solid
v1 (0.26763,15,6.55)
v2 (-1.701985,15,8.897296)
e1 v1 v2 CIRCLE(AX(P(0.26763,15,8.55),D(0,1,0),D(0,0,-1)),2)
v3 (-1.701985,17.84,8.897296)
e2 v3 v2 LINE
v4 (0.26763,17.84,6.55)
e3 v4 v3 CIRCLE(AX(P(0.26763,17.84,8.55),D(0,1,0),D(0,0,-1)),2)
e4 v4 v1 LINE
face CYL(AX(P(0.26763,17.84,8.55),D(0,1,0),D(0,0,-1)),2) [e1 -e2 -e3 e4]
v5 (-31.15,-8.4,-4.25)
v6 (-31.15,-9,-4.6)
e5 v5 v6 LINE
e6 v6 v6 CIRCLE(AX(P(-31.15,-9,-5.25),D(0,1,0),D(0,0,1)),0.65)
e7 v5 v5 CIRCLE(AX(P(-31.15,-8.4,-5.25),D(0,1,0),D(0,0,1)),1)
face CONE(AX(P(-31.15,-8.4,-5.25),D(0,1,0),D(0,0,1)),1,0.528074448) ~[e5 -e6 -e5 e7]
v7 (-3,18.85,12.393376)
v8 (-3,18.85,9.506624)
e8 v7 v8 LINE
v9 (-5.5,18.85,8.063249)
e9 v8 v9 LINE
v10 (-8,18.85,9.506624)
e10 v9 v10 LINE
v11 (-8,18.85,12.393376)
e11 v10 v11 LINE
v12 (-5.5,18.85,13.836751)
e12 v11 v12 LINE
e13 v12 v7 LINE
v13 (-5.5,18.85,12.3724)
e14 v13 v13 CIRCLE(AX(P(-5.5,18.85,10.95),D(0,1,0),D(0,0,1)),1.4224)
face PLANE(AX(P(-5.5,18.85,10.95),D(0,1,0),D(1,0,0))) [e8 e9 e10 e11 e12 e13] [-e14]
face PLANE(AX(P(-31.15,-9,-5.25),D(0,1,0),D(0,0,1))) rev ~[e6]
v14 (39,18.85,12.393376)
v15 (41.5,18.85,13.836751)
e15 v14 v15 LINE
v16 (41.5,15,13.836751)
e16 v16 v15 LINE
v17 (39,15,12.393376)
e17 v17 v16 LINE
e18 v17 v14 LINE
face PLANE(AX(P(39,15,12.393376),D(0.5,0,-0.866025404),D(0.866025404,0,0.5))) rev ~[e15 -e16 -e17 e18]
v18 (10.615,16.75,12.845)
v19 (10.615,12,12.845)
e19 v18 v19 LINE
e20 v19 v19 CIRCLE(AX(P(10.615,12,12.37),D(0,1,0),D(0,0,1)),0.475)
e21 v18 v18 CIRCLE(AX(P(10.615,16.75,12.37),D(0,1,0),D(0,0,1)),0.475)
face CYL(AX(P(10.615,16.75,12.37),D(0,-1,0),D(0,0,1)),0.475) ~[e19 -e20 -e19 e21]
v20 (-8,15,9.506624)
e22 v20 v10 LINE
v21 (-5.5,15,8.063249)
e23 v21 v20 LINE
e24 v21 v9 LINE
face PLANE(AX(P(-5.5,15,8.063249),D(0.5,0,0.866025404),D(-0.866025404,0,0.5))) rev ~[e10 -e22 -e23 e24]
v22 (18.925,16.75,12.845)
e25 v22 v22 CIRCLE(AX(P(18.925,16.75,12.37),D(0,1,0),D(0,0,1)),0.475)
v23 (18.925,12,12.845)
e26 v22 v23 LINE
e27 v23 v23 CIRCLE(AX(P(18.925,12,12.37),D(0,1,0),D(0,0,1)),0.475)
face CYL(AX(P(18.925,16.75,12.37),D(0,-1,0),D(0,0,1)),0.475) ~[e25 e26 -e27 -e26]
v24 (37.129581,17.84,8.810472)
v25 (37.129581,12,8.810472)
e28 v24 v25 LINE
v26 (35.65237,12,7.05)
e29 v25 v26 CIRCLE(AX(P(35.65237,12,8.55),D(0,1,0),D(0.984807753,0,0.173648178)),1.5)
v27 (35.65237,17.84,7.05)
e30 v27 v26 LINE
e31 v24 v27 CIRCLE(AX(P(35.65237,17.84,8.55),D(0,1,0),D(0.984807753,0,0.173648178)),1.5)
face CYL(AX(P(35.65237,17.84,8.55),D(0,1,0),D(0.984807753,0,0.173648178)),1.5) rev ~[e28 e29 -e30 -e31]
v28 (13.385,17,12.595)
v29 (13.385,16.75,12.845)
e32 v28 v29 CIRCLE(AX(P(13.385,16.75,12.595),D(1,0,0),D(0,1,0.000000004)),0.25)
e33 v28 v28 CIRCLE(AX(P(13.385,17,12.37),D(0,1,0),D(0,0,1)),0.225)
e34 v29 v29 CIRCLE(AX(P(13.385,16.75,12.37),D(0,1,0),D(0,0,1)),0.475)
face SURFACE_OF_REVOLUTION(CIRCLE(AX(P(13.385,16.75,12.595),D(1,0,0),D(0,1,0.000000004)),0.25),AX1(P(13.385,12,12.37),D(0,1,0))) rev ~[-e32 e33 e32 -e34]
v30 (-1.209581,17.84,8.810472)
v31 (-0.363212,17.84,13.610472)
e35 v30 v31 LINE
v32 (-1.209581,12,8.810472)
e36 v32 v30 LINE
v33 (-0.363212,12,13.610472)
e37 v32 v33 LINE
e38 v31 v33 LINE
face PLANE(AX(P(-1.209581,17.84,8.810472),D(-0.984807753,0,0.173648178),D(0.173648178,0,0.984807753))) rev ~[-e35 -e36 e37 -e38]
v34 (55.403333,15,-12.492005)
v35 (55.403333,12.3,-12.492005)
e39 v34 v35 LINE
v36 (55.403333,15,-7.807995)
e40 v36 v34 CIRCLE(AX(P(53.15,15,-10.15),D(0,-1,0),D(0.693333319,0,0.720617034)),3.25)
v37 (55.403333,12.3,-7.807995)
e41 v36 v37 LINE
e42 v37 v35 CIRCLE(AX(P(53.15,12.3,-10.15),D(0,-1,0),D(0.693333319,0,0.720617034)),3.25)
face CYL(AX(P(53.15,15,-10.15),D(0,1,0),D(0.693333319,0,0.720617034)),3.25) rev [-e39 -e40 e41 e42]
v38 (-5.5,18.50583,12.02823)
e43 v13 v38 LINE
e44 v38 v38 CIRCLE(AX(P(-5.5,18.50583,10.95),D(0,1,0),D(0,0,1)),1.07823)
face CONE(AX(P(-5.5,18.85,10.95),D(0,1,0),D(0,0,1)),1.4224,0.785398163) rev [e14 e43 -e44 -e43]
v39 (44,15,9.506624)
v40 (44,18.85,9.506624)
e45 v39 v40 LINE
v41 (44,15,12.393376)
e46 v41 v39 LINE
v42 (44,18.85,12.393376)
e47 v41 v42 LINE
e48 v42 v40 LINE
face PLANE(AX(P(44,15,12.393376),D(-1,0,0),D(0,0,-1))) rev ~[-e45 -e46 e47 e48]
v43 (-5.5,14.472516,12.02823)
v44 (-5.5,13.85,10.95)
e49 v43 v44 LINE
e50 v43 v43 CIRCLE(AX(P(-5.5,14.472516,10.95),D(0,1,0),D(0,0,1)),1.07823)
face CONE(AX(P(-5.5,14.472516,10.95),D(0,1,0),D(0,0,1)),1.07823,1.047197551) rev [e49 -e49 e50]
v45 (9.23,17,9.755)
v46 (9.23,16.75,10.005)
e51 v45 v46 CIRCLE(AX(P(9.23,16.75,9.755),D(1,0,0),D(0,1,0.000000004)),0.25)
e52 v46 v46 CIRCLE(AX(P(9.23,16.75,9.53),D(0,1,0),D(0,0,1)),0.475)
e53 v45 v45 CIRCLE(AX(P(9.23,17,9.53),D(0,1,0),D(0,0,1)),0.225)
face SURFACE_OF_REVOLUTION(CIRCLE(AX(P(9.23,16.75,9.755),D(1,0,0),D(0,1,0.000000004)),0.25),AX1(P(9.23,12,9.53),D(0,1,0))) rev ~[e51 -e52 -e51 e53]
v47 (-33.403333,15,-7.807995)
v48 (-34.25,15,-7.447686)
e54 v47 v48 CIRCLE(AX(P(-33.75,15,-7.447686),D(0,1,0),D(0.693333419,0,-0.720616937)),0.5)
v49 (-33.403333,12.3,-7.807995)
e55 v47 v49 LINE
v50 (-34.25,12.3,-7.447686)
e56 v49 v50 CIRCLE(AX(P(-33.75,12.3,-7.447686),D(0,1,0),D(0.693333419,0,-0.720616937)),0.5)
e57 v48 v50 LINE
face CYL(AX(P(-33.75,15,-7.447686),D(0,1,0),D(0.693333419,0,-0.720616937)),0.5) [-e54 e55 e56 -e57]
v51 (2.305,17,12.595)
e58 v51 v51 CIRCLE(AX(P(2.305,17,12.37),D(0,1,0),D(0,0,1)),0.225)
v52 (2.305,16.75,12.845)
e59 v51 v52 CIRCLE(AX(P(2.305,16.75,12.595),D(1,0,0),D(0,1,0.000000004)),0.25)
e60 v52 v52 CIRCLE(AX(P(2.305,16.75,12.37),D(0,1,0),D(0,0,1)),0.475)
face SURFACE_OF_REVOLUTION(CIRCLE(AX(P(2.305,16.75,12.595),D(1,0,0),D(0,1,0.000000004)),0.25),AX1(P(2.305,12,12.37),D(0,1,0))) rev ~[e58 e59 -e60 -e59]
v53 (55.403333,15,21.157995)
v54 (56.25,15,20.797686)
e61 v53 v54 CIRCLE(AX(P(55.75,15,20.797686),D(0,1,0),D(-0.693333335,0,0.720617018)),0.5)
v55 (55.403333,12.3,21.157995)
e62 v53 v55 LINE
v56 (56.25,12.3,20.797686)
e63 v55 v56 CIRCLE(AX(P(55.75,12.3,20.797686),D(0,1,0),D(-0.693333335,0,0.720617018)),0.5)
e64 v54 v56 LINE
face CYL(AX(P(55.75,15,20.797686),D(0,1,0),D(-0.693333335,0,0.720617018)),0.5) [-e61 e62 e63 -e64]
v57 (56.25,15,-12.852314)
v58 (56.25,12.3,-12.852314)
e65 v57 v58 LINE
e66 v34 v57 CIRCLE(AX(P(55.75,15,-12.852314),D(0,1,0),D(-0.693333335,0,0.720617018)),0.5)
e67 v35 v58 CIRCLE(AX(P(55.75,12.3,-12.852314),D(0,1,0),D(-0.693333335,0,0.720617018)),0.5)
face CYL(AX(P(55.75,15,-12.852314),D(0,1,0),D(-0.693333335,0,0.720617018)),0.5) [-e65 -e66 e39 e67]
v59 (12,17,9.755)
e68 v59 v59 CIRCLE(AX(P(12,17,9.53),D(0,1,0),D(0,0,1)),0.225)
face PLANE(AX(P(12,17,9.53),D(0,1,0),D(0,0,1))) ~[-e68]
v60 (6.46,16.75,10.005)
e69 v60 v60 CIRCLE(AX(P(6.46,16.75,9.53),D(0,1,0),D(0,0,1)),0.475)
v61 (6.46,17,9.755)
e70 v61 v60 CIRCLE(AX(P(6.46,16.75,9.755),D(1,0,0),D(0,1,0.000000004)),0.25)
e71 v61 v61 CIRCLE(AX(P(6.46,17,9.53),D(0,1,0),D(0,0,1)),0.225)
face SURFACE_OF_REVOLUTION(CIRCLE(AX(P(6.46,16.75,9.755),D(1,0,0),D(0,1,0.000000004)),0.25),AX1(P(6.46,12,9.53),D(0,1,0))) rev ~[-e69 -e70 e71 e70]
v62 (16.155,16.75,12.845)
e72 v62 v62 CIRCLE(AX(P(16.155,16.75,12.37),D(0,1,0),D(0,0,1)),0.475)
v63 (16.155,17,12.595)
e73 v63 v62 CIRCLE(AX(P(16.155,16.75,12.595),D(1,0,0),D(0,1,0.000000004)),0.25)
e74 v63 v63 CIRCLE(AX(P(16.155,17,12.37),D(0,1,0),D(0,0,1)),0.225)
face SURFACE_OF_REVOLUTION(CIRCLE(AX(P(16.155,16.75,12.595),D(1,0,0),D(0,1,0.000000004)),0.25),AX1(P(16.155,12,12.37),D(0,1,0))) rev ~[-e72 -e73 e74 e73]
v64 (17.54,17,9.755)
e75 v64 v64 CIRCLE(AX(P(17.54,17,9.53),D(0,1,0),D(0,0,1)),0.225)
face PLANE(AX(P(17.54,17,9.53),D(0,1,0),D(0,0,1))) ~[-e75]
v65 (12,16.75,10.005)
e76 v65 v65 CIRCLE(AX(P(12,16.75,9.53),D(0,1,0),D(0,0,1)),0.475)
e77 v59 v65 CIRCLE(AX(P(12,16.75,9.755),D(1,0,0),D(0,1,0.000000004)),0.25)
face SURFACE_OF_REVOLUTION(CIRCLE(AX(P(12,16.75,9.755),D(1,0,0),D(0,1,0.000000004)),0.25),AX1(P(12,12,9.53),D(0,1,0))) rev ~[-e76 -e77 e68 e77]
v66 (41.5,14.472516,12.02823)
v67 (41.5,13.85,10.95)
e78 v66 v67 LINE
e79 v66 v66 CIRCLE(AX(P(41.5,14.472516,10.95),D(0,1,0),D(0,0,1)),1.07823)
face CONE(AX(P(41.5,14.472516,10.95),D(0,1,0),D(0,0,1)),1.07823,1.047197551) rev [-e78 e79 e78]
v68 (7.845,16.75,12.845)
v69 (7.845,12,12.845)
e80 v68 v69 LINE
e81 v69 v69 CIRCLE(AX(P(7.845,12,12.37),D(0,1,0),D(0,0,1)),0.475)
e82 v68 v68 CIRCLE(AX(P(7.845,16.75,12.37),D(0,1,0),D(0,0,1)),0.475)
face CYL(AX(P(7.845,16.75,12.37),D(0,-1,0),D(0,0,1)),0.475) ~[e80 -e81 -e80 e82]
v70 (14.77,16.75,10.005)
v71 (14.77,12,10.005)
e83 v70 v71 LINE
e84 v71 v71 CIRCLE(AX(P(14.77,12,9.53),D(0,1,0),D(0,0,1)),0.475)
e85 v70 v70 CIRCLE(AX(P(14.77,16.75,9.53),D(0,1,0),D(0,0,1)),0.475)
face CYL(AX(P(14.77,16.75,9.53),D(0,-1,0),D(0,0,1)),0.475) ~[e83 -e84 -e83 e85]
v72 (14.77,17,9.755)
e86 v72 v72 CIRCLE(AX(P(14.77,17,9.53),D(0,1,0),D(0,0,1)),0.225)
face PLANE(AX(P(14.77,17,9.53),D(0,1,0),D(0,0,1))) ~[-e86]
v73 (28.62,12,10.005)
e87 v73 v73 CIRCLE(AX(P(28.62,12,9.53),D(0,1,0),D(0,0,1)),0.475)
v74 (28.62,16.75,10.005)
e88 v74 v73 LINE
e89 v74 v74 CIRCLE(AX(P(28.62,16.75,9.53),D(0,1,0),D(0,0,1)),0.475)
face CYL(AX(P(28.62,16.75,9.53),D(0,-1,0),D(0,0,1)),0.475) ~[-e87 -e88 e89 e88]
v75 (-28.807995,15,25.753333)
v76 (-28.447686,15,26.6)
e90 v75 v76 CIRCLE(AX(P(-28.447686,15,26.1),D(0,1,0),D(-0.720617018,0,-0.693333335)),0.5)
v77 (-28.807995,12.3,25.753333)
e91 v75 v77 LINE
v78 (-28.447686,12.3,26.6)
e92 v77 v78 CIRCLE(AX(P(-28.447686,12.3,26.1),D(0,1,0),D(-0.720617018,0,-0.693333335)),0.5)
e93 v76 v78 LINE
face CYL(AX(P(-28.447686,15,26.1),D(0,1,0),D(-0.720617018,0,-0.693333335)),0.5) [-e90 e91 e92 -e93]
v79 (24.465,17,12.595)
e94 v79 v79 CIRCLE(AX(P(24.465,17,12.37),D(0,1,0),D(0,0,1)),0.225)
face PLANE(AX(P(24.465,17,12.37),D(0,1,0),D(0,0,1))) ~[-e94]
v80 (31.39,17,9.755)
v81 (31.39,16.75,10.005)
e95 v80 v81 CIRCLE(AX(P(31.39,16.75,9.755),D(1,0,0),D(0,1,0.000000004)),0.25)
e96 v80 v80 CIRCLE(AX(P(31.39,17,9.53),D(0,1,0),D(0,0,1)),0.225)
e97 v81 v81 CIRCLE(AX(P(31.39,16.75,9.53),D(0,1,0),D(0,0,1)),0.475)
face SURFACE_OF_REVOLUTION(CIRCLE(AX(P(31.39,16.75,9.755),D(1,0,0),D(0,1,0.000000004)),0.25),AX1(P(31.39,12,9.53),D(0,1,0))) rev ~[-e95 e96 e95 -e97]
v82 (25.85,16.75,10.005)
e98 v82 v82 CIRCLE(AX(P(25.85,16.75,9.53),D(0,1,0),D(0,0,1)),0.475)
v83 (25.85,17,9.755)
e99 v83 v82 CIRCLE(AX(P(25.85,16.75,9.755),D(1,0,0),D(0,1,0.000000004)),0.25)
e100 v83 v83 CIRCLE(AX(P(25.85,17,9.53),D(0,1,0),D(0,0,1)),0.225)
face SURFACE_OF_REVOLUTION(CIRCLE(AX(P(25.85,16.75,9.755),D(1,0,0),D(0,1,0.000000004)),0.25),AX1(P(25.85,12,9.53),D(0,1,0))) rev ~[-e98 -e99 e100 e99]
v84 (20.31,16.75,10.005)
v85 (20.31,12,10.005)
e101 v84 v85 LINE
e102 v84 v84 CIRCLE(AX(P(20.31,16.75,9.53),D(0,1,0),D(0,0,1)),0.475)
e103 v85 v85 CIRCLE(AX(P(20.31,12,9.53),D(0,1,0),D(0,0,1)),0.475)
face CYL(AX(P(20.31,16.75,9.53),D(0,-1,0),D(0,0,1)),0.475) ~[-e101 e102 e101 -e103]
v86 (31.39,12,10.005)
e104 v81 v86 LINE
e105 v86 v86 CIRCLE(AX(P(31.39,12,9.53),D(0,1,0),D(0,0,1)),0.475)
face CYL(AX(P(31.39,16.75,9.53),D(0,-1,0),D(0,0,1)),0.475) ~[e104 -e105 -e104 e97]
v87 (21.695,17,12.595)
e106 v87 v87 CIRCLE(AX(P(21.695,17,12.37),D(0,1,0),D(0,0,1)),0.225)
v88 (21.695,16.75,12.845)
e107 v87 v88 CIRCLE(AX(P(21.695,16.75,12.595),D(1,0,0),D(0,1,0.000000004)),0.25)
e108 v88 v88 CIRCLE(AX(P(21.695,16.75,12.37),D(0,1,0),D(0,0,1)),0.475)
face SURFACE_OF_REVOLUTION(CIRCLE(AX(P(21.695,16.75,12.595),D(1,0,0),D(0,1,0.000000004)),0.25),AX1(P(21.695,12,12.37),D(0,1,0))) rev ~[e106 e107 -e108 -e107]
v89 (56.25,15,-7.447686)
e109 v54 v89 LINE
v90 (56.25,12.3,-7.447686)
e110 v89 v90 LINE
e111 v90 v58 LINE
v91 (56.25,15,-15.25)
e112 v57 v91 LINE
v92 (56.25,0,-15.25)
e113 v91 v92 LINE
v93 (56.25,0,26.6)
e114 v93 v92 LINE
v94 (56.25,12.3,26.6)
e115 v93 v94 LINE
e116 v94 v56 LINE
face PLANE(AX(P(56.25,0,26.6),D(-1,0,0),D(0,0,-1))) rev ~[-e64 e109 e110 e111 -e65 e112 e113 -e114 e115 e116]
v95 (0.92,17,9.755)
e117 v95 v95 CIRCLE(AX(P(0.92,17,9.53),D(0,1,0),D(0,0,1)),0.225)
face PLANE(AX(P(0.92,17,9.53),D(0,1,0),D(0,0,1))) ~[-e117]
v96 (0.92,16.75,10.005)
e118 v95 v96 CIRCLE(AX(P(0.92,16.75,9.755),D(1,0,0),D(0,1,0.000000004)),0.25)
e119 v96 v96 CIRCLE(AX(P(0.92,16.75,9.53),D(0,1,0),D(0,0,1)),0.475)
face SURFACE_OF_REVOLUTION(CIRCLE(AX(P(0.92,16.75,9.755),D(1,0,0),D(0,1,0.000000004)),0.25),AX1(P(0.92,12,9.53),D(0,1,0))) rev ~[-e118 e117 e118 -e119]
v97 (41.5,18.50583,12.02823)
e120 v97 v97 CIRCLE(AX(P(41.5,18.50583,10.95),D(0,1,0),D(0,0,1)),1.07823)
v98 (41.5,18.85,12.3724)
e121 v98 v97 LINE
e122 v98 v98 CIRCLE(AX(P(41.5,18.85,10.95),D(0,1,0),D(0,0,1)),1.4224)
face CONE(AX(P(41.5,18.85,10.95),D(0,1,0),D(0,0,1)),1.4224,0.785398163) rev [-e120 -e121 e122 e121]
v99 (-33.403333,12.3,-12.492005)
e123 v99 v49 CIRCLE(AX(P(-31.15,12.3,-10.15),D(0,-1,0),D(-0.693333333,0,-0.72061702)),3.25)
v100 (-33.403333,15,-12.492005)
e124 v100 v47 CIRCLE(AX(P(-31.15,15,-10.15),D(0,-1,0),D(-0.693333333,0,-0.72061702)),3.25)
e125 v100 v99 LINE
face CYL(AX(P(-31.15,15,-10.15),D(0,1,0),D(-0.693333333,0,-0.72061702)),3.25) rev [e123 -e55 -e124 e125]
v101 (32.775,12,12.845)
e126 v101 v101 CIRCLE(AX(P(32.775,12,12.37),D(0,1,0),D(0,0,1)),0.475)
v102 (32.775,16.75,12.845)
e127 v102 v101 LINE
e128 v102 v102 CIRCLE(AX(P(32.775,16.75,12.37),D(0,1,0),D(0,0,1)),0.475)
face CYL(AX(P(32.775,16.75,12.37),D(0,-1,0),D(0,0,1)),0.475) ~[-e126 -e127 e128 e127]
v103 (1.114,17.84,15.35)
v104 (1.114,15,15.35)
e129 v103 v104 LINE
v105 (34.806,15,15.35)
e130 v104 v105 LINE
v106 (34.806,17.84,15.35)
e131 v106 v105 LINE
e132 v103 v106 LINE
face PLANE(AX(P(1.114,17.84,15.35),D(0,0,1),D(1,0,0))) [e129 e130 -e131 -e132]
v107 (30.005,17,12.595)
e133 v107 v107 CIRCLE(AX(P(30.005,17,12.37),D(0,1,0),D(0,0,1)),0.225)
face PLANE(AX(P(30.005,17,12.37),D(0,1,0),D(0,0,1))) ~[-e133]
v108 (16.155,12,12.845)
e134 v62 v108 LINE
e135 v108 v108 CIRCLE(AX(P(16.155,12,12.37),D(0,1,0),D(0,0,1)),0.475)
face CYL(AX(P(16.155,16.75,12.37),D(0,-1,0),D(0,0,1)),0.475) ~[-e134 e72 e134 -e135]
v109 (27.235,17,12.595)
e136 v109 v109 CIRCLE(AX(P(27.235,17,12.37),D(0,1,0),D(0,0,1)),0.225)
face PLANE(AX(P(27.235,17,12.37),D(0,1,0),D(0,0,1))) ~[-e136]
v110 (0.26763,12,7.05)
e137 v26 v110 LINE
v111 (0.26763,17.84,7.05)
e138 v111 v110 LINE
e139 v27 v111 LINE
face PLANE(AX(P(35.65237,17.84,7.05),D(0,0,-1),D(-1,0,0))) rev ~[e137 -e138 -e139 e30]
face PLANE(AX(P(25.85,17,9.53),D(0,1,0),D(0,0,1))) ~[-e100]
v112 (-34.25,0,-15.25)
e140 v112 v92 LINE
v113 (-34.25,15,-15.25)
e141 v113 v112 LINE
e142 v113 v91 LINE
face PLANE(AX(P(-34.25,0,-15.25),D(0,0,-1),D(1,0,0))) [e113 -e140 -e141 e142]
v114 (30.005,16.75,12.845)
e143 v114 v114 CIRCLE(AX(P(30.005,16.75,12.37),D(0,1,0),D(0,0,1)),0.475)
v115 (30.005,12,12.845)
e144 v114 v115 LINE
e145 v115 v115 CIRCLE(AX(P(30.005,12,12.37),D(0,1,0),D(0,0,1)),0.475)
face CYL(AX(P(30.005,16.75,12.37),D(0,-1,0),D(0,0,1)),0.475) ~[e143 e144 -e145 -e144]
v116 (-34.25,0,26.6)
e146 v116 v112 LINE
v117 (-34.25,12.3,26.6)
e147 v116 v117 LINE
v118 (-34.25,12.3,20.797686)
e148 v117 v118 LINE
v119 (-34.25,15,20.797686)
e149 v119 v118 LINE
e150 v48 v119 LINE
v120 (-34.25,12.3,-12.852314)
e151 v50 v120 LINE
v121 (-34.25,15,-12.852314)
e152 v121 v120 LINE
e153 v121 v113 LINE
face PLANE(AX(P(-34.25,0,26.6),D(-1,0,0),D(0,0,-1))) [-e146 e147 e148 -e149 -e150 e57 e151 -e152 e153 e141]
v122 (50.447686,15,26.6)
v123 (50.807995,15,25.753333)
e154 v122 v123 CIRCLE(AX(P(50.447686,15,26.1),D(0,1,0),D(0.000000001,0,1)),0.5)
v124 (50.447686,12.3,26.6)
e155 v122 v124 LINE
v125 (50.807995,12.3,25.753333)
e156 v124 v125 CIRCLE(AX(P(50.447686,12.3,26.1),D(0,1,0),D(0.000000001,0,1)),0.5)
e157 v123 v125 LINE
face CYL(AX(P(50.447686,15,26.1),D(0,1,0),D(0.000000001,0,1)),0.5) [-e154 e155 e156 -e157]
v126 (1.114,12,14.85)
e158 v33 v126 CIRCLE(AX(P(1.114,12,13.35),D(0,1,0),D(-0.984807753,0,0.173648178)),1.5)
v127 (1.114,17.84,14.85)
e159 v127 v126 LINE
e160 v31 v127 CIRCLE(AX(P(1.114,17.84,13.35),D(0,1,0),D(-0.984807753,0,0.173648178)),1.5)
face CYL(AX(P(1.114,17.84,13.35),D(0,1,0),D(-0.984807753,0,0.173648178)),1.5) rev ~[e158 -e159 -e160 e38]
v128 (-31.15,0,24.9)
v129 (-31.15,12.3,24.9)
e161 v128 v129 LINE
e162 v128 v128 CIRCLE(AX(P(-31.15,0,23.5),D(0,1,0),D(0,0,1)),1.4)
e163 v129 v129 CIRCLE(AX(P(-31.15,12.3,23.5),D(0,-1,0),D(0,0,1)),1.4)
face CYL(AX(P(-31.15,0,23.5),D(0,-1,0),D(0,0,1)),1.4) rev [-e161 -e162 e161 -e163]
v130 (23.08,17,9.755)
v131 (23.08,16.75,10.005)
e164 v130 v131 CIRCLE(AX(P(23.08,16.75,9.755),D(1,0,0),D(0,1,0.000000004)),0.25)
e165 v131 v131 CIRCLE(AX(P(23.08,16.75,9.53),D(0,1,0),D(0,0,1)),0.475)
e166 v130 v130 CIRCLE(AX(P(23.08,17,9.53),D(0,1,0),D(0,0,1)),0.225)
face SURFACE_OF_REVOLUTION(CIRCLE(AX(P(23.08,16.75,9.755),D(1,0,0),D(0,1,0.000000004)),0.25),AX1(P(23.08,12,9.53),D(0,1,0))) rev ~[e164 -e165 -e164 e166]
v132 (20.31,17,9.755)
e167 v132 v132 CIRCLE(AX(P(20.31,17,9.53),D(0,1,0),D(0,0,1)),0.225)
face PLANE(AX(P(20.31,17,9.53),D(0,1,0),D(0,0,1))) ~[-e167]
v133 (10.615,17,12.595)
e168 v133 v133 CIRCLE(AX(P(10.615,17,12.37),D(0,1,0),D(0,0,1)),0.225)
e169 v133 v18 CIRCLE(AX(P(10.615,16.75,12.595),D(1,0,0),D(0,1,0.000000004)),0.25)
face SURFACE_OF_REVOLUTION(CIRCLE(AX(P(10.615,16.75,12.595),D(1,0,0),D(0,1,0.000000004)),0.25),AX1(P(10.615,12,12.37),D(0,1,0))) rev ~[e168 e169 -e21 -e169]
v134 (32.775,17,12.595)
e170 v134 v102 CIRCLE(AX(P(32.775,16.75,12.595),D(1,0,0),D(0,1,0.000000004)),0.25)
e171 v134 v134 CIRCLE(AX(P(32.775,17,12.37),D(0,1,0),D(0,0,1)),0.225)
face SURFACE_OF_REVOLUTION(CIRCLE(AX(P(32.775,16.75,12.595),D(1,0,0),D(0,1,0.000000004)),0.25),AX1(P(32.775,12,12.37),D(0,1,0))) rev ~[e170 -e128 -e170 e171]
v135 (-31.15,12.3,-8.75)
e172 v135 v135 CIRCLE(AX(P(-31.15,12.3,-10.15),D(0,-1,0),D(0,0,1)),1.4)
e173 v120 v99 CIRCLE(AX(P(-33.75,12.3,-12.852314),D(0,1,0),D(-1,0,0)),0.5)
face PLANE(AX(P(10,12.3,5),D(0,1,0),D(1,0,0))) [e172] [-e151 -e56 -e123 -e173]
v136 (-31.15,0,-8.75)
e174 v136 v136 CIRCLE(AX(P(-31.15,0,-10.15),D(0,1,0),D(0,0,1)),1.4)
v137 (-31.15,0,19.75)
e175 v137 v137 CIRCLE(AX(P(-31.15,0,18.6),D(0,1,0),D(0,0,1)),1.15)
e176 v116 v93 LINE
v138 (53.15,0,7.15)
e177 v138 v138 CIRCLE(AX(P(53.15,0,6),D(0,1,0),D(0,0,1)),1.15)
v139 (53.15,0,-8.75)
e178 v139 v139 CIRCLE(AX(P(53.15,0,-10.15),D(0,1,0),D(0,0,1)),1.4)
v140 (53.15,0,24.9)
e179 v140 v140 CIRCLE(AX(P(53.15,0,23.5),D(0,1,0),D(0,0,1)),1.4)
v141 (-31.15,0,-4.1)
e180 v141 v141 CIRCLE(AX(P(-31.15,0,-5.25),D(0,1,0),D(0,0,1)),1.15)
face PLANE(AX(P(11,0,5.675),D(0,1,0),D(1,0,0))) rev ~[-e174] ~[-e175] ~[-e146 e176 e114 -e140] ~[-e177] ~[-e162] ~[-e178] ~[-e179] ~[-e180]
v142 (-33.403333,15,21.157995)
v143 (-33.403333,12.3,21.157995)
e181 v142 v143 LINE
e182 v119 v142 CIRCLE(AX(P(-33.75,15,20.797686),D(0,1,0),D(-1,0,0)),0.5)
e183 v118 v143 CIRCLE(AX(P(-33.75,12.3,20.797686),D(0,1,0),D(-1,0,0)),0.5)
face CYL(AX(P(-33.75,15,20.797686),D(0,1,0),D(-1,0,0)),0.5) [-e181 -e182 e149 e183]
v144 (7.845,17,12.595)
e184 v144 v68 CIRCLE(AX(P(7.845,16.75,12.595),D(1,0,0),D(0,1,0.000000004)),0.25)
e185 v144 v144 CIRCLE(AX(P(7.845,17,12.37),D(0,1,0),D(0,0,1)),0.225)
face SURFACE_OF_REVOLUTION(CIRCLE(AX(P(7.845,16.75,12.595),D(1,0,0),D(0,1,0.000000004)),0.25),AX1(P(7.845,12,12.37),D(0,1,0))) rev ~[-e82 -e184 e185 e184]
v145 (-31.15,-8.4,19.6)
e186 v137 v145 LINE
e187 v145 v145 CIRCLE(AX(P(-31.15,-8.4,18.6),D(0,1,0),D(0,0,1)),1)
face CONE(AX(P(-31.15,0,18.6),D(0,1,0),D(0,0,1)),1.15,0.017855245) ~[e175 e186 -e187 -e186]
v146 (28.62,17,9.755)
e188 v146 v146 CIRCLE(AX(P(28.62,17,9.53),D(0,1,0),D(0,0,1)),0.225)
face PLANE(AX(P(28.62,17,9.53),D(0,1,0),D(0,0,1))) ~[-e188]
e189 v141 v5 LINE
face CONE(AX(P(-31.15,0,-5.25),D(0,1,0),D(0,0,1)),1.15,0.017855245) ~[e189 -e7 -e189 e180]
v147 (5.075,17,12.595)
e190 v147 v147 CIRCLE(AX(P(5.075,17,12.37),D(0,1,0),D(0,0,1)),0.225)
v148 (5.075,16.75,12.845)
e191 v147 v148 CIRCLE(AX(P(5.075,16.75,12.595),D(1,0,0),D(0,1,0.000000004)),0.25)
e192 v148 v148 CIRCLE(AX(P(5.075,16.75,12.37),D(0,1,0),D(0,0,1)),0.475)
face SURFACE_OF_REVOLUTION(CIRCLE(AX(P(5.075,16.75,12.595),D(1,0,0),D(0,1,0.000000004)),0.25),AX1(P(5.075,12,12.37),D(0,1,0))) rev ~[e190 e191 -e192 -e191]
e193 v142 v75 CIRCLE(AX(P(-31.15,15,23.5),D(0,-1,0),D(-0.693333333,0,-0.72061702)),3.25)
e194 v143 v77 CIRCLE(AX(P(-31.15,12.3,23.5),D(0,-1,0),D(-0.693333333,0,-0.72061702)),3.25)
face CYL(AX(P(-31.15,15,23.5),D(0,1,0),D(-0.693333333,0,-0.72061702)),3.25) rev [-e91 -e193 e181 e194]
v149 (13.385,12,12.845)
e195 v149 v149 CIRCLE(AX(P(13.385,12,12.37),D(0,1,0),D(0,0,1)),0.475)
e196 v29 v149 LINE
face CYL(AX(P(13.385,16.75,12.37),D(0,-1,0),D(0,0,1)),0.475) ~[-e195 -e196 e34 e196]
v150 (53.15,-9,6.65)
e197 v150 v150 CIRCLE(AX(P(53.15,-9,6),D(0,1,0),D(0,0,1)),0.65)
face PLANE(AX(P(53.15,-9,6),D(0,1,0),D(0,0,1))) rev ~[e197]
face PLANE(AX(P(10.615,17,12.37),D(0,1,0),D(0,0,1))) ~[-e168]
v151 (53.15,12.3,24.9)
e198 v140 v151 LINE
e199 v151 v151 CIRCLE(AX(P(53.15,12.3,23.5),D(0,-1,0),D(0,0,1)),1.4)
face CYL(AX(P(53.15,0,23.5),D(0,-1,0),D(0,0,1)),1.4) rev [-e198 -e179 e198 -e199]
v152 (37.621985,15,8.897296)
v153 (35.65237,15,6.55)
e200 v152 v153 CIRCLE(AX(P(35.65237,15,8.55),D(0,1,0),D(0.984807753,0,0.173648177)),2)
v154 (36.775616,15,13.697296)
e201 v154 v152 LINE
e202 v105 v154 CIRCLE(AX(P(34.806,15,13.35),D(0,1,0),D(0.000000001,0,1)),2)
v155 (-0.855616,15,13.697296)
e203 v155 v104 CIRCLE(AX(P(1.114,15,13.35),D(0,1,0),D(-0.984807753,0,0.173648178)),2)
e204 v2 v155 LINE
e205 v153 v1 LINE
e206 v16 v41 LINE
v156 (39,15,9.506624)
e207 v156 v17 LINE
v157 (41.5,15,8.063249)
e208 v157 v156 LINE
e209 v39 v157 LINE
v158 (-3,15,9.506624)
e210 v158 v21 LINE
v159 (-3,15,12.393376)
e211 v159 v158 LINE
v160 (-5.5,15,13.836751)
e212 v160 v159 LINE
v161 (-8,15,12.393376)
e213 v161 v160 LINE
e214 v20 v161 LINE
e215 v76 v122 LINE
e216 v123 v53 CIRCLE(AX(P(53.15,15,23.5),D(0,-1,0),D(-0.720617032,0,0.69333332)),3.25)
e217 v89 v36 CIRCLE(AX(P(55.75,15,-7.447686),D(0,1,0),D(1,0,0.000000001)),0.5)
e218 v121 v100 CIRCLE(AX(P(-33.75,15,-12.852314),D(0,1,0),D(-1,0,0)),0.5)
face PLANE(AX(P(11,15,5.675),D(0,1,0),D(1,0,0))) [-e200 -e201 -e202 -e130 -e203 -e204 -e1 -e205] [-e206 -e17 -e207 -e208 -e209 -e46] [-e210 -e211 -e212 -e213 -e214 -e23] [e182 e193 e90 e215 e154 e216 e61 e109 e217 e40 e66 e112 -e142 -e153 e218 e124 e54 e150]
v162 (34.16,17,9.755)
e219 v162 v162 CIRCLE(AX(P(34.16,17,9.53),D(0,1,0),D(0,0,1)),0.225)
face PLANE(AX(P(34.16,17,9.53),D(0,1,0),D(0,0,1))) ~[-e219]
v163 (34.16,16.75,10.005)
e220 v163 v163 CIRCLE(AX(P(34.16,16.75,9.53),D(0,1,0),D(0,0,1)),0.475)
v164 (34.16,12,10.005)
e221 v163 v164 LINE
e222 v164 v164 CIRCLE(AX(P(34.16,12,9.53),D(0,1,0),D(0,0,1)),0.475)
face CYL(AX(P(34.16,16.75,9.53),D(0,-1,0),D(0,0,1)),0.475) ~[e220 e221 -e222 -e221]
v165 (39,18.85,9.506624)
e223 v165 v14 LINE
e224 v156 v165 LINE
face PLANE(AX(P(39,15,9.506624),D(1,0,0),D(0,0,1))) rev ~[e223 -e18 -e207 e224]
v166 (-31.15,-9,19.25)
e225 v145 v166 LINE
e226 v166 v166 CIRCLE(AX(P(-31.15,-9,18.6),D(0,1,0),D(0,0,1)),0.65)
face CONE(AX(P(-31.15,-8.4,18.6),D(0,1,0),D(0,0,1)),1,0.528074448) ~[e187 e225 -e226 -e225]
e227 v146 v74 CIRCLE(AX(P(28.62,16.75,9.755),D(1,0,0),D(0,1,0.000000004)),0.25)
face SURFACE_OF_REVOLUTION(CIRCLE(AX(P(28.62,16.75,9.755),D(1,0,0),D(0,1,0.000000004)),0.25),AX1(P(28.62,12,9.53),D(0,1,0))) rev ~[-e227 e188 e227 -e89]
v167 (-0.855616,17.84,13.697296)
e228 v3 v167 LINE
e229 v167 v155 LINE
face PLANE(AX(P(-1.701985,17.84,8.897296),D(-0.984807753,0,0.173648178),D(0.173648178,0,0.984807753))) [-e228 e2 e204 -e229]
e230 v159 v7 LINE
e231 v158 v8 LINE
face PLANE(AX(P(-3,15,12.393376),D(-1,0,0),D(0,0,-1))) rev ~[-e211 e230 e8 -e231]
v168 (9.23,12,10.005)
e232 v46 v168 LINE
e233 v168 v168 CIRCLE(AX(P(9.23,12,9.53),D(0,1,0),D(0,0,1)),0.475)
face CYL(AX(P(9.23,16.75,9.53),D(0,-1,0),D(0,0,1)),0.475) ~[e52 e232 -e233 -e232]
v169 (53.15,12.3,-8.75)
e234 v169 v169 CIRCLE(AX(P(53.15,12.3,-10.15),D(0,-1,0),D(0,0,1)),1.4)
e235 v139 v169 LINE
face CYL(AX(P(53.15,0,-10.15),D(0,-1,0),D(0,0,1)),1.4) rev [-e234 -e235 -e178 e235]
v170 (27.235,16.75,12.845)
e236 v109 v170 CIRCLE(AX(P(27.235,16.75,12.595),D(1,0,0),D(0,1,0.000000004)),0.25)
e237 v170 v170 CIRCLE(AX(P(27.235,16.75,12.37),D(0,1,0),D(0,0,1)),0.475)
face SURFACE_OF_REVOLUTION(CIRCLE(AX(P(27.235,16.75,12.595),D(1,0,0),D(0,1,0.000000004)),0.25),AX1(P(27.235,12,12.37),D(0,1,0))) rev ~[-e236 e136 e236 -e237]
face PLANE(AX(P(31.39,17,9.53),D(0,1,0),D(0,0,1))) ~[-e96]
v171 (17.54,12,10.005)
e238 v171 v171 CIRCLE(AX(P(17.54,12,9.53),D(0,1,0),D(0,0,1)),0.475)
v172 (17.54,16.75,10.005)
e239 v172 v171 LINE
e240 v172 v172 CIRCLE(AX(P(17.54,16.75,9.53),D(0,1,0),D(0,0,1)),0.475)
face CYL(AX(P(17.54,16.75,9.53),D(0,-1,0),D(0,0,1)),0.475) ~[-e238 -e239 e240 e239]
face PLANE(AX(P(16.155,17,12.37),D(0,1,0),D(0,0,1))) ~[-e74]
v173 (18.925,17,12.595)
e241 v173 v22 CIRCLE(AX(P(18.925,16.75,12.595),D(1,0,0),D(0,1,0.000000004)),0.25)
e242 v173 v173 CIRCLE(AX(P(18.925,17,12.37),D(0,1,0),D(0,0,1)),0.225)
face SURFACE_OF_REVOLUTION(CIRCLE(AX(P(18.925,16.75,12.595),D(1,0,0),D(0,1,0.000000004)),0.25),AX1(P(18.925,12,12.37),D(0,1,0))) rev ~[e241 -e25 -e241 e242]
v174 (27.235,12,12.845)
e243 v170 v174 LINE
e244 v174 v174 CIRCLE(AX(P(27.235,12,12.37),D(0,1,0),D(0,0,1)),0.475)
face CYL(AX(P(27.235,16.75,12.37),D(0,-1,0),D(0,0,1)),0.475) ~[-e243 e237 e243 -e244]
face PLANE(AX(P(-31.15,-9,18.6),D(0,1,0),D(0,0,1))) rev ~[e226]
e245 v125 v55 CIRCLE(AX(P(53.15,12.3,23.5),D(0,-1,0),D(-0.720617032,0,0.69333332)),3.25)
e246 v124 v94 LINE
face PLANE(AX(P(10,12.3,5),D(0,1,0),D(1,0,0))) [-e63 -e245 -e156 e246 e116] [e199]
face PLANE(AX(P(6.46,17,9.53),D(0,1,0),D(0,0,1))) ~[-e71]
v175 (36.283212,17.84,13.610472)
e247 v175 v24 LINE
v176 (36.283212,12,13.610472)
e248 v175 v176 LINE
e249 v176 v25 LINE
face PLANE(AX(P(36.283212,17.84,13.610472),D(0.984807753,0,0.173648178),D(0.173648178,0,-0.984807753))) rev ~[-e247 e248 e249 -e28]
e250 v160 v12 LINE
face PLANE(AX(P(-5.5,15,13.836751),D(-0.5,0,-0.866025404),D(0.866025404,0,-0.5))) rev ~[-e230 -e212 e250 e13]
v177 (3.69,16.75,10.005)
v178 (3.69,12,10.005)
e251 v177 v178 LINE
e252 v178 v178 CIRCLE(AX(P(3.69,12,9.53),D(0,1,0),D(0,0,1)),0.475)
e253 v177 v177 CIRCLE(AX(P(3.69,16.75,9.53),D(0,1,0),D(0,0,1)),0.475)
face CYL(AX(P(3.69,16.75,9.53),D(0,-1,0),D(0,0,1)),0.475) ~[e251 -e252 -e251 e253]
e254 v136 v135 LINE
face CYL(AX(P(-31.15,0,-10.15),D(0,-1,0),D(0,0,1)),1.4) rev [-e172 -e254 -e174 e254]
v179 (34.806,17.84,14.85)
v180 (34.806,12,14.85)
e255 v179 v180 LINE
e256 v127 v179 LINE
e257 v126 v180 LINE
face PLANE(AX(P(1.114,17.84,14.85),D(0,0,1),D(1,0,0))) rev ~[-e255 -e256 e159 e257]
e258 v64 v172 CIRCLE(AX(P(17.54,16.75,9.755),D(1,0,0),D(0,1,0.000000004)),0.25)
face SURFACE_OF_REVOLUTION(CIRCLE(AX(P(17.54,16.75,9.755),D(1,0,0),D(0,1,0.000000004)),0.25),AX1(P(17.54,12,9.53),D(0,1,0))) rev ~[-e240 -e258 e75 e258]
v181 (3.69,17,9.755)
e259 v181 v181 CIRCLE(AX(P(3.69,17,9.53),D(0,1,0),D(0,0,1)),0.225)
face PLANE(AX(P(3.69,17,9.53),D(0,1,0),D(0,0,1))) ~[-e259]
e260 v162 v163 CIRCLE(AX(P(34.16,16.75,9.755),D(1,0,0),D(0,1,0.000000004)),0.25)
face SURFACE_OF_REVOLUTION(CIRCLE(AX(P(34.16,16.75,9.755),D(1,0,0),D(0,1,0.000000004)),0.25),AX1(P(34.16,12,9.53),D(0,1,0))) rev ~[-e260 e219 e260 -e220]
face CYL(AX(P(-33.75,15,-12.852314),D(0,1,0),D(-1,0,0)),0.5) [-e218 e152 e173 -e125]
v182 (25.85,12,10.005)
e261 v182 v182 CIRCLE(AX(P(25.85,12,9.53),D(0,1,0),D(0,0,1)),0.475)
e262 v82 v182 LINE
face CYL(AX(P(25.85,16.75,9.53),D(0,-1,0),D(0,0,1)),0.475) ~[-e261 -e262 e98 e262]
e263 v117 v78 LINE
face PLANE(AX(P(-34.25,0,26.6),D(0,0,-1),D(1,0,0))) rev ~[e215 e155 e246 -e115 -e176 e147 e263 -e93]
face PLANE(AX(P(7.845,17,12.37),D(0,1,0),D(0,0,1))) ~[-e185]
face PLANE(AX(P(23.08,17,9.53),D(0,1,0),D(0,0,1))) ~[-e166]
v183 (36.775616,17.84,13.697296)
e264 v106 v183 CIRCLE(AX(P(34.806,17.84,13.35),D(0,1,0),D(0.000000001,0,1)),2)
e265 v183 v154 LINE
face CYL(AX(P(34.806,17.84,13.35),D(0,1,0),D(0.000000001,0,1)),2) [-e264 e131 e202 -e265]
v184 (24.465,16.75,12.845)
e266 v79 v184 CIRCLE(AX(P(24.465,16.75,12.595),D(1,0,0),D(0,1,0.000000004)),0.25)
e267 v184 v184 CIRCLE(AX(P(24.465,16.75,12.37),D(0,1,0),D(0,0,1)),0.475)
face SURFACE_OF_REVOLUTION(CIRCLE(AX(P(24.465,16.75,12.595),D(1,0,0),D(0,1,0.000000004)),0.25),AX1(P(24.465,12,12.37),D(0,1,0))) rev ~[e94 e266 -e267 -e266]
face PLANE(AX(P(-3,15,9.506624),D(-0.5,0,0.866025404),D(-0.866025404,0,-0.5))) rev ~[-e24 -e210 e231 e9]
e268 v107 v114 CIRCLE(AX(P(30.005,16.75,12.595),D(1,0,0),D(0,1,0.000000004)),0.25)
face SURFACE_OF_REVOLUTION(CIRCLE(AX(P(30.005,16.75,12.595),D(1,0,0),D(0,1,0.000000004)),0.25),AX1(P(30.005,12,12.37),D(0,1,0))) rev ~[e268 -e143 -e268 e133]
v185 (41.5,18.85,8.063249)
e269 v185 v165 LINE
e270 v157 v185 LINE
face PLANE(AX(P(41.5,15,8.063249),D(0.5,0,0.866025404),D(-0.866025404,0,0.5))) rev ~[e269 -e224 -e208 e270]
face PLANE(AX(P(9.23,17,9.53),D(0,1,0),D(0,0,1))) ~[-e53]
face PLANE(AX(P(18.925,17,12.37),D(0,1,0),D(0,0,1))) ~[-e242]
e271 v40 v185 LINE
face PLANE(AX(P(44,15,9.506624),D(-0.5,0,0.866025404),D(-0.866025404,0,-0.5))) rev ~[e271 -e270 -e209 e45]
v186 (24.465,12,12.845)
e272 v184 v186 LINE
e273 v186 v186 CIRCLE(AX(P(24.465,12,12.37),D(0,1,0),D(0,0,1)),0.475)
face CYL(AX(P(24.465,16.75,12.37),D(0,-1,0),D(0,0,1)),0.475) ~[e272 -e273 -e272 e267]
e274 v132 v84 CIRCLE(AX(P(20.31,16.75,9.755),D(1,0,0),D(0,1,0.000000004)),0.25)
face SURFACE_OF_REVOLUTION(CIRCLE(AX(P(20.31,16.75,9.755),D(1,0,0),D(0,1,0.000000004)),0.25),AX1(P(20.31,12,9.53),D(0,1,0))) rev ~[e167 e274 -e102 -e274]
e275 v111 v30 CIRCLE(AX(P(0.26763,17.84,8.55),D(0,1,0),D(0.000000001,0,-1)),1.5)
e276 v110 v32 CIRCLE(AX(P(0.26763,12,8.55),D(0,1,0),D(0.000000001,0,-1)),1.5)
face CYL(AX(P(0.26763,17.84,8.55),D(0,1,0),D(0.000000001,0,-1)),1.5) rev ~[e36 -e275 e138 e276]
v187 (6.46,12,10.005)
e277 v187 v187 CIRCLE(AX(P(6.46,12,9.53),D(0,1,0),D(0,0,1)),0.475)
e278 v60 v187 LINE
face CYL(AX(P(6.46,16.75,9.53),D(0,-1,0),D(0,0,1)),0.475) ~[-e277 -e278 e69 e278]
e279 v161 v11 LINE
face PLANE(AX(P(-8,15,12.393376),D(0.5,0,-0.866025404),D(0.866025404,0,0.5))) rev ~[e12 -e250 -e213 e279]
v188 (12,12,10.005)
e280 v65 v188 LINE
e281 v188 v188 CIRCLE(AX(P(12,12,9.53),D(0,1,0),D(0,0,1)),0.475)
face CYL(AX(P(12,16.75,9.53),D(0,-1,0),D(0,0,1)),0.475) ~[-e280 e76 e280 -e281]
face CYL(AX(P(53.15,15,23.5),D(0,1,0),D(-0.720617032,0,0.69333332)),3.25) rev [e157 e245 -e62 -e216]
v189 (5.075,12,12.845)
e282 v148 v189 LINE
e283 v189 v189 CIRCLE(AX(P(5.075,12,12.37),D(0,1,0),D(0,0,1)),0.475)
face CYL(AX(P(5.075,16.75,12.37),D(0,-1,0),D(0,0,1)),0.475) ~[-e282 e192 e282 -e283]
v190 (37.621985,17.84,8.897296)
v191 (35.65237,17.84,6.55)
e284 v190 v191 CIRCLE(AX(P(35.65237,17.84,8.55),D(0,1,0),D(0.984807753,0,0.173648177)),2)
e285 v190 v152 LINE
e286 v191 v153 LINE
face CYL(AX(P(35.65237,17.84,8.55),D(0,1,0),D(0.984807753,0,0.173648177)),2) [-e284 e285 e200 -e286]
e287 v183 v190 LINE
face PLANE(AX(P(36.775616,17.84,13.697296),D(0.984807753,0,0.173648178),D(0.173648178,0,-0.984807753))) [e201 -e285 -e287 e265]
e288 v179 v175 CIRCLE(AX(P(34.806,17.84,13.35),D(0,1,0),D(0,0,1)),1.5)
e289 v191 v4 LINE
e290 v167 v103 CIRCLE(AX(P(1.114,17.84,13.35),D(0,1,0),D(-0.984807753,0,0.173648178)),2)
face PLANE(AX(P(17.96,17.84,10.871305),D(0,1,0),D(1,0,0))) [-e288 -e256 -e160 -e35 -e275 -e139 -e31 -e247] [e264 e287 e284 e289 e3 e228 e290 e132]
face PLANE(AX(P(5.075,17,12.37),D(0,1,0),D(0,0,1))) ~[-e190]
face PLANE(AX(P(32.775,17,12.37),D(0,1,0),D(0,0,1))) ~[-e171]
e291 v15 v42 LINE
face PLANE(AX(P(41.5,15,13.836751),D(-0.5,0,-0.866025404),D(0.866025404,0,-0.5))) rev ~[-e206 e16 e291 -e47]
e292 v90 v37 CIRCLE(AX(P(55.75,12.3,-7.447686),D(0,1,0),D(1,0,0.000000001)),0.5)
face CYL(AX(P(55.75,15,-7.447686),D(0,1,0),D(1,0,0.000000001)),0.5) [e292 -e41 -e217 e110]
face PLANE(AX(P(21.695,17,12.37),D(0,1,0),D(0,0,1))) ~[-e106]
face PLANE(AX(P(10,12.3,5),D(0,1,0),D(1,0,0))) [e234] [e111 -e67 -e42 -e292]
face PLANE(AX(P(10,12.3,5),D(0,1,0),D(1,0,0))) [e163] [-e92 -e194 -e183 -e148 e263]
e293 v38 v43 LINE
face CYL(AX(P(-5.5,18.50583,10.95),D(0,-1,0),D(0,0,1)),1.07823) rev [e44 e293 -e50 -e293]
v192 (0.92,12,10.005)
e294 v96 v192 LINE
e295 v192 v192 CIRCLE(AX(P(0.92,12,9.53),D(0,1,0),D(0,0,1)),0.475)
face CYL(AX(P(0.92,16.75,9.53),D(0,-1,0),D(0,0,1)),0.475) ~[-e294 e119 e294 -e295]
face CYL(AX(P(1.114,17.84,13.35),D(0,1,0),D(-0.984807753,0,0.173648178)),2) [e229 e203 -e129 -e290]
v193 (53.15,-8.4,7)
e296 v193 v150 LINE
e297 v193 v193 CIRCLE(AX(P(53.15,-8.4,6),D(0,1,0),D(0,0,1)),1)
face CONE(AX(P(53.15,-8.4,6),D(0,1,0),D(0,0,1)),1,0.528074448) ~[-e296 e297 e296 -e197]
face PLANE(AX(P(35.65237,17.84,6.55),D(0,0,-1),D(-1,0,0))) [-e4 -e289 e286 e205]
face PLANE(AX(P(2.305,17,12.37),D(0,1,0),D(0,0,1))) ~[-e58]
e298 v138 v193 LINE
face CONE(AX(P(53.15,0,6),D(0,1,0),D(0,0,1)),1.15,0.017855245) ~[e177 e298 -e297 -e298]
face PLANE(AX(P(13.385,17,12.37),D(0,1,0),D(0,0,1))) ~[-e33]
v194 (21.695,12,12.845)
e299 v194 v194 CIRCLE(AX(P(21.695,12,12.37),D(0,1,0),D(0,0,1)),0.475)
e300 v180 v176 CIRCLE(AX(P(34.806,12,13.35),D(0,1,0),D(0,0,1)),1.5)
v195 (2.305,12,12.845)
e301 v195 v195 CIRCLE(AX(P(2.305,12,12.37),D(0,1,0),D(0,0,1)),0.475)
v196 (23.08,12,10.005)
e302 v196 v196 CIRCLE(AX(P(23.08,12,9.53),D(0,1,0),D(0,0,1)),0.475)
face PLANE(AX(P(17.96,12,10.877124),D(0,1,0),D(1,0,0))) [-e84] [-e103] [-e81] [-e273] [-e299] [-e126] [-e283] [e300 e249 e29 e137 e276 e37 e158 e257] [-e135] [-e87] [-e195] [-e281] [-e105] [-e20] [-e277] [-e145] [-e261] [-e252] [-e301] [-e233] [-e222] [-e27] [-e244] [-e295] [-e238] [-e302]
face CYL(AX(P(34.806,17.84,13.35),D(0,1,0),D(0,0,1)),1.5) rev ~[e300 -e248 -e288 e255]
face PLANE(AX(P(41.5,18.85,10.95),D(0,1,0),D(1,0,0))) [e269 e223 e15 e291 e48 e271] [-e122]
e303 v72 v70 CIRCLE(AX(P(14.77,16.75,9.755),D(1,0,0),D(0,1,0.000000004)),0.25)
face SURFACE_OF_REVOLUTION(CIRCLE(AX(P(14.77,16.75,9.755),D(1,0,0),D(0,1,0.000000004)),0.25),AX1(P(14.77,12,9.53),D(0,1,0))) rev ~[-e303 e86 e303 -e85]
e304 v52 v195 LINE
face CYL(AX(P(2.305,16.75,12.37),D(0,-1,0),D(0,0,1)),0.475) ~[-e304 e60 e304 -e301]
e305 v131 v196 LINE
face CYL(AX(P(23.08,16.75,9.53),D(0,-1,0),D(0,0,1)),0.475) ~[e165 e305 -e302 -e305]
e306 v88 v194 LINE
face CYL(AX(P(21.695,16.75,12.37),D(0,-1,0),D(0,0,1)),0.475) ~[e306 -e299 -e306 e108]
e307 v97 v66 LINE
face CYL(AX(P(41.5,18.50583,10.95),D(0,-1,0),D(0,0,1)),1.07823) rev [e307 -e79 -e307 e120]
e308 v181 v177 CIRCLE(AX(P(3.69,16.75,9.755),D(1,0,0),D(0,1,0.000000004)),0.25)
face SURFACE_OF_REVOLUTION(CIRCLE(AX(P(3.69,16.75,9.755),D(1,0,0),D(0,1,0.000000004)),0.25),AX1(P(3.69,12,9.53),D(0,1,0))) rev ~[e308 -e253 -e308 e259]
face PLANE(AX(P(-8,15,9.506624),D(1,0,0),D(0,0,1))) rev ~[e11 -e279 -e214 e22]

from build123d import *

# Parameters (mm, degrees)
SKIZZE1_W                       = 90.5
SKIZZE1_H                       = 41.85
SKIZZE1_R                       = 1.4
AUFSATZ_LINEAR_AUSTRAGEN1_DEPTH = 15
SKIZZE2_W                       = 110
SKIZZE2_H                       = 70
SCHNITT_LINEAR_AUSTRAGEN1_DEPTH = 2.7
AUFSATZ_LINEAR_AUSTRAGEN2_DEPTH = 3.85
AUFSATZ_LINEAR_AUSTRAGEN3_DEPTH = 3.85
SCHNITT_LINEAR_AUSTRAGEN2_DEPTH = 3
AUFSATZ_LINEAR_START            = 2.84
AUFSATZ_LINEAR_AUSTRAGEN4_DEPTH = 2.84
LINEARES_MUSTER1_COUNT          = 12
LINEARES_MUSTER1_PITCH          = 2.77
LINEARES_MUSTER2_COUNT          = 13
LINEARES_MUSTER2_PITCH          = 2.77


with BuildPart() as part:
    # Skizze1 → Aufsatz-Linear austragen1 (new body)
    with BuildSketch(Plane(origin=(0, 0, 0), x_dir=(1, 0, 0), z_dir=(0, 1, 0))):
        with Locations((11, -5.675)):
            Rectangle(SKIZZE1_W, SKIZZE1_H)
        with Locations((53.15, -23.5)):
            Circle(SKIZZE1_R, mode=Mode.SUBTRACT)
        with Locations((53.15, 10.15)):
            Circle(SKIZZE1_R, mode=Mode.SUBTRACT)
        with Locations((-31.15, -23.5)):
            Circle(SKIZZE1_R, mode=Mode.SUBTRACT)
        with Locations((-31.15, 10.15)):
            Circle(SKIZZE1_R, mode=Mode.SUBTRACT)
    extrude(amount=AUFSATZ_LINEAR_AUSTRAGEN1_DEPTH)

    # Skizze2 → Schnitt-Linear austragen1 (cut)
    with BuildSketch(Plane(origin=(0, 15, 0), x_dir=(1, 0, 0), z_dir=(0, 1, 0))):
        with Locations((10, -5)):
            Rectangle(SKIZZE2_W, SKIZZE2_H)
        with BuildLine():
            Line((-34.25, 7.447686177), (-34.25, -20.797686177))
            ThreePointArc((-34.25, -20.797686177), (-33.945789002, -21.257758635), (-33.403333333, -21.157994686))
            ThreePointArc((-33.403333333, -21.157994686), (-28.851902961, -21.201902961), (-28.807994686, -25.753333333))
            ThreePointArc((-28.807994686, -25.753333333), (-28.907758635, -26.295789002), (-28.447686177, -26.6))
            Line((-28.447686177, -26.6), (50.447686177, -26.6))
            ThreePointArc((50.447686177, -26.6), (50.907758646, -26.295788975), (50.807994645, -25.753333291))
            ThreePointArc((50.807994645, -25.753333291), (50.851902982, -21.20190294), (55.403333333, -21.157994686))
            ThreePointArc((55.403333333, -21.157994686), (55.945789002, -21.257758635), (56.25, -20.797686177))
            Line((56.25, -20.797686177), (56.25, 7.447686177))
            ThreePointArc((56.25, 7.447686177), (55.945788972, 7.907758648), (55.403333286, 7.807994641))
            ThreePointArc((55.403333286, 7.807994641), (49.9, 10.150000033), (55.403333333, 12.492005314))
            ThreePointArc((55.403333333, 12.492005314), (55.945789002, 12.392241365), (56.25, 12.852313823))
            Line((56.25, 12.852313823), (56.25, 15.25))
            Line((56.25, 15.25), (-34.25, 15.25))
            Line((-34.25, 15.25), (-34.25, 12.852313823))
            ThreePointArc((-34.25, 12.852313823), (-33.945789002, 12.392241365), (-33.403333333, 12.492005314))
            ThreePointArc((-33.403333333, 12.492005314), (-27.9, 10.15000003), (-33.40333329, 7.807994645))
            ThreePointArc((-33.40333329, 7.807994645), (-33.945788975, 7.907758646), (-34.25, 7.447686177))
        make_face(mode=Mode.SUBTRACT)
    extrude(amount=-SCHNITT_LINEAR_AUSTRAGEN1_DEPTH, mode=Mode.SUBTRACT)

    # Skizze3 → Rotation1 (revolve)
    with BuildSketch(Plane.XY.offset(6)):
        Polygon((53.15, 0), (54.3, 0), (54.15, -8.4), (53.8, -9), (53.15, -9), align=None)
    revolve(axis=Axis((53.15, -9, 6), (0, 1, 0)))

    # Skizze4 → Rotation2 (revolve)
    with BuildSketch(Plane.XY.offset(-5.25)):
        Polygon((-31.15, 0), (-30, 0), (-30.15, -8.4), (-30.5, -9), (-31.15, -9), align=None)
    revolve(axis=Axis((-31.15, -9, -5.25), (0, 1, 0)))

    # Skizze5 → Rotation3 (revolve)
    with BuildSketch(Plane.XY.offset(18.6)):
        Polygon((-31.15, 0), (-30, 0), (-30.15, -8.4), (-30.5, -9), (-31.15, -9), align=None)
    revolve(axis=Axis((-31.15, -9, 18.6), (0, 1, 0)))

    # Skizze6 → Aufsatz-Linear austragen2 (add)
    with BuildSketch(Plane(origin=(0, 15, 0), x_dir=(1, 0, 0), z_dir=(0, 1, 0))):
        Polygon((39, -12.393375673), (41.5, -13.836751346), (44, -12.393375673), (44, -9.506624327), (41.5, -8.063248654), (39, -9.506624327), align=None)
    extrude(amount=AUFSATZ_LINEAR_AUSTRAGEN2_DEPTH)

    # Skizze7 → Aufsatz-Linear austragen3 (add)
    with BuildSketch(Plane(origin=(0, 15, 0), x_dir=(1, 0, 0), z_dir=(0, 1, 0))):
        Polygon((-8, -12.393375673), (-5.5, -13.836751346), (-3, -12.393375673), (-3, -9.506624327), (-5.5, -8.063248654), (-8, -9.506624327), align=None)
    extrude(amount=AUFSATZ_LINEAR_AUSTRAGEN3_DEPTH)

    # Skizze8 → Schnitt-Linear austragen2 (cut)
    with BuildSketch(Plane(origin=(0, 15, 0), x_dir=(1, 0, 0), z_dir=(0, 1, 0))):
        with BuildLine():
            Line((-1.209581241, -8.810472267), (-0.363211733, -13.610472267))
            ThreePointArc((-0.363211733, -13.610472267), (0.149818482, -14.499066665), (1.113999896, -14.85))
            Line((1.113999896, -14.85), (34.806000104, -14.85))
            ThreePointArc((34.806000104, -14.85), (35.770181518, -14.499066665), (36.283211733, -13.610472267))
            Line((36.283211733, -13.610472267), (37.129581241, -8.810472267))
            ThreePointArc((37.129581241, -8.810472267), (36.801436276, -7.585818585), (35.652369611, -7.05))
            Line((35.652369611, -7.05), (0.267630389, -7.05))
            ThreePointArc((0.267630389, -7.05), (-0.881436276, -7.585818585), (-1.209581241, -8.810472267))
        make_face()
    extrude(amount=-SCHNITT_LINEAR_AUSTRAGEN2_DEPTH, mode=Mode.SUBTRACT)

    # Skizze9 → Aufsatz-Linear austragen4 (add)
    with BuildSketch(Plane(origin=(0, 15, 0), x_dir=(1, 0, 0), z_dir=(0, 1, 0)).offset(AUFSATZ_LINEAR_START)):
        with BuildLine():
            Line((-1.701985117, -8.897296355), (-0.85561561, -13.697296355))
            ThreePointArc((-0.85561561, -13.697296355), (-0.171575323, -14.882088886), (1.113999896, -15.35))
            Line((1.113999896, -15.35), (34.806000104, -15.35))
            ThreePointArc((34.806000104, -15.35), (36.091575323, -14.882088886), (36.77561561, -13.697296355))
            Line((36.77561561, -13.697296355), (37.621985117, -8.897296355))
            ThreePointArc((37.621985117, -8.897296355), (37.184458497, -7.264424781), (35.652369611, -6.55))
            Line((35.652369611, -6.55), (0.267630389, -6.55))
            ThreePointArc((0.267630389, -6.55), (-1.264458497, -7.264424781), (-1.701985117, -8.897296355))
        make_face()
        with BuildLine():
            Line((-1.209581241, -8.810472267), (-0.363211733, -13.610472267))
            ThreePointArc((-0.363211733, -13.610472267), (0.149818482, -14.499066665), (1.113999896, -14.85))
            Line((1.113999896, -14.85), (34.806000104, -14.85))
            ThreePointArc((34.806000104, -14.85), (35.770181518, -14.499066665), (36.283211733, -13.610472267))
            Line((36.283211733, -13.610472267), (37.129581241, -8.810472267))
            ThreePointArc((37.129581241, -8.810472267), (36.801436276, -7.585818585), (35.652369611, -7.05))
            Line((35.652369611, -7.05), (0.267630389, -7.05))
            ThreePointArc((0.267630389, -7.05), (-0.881436276, -7.585818585), (-1.209581241, -8.810472267))
        make_face(mode=Mode.SUBTRACT)
    extrude(amount=-AUFSATZ_LINEAR_AUSTRAGEN4_DEPTH)

    # Skizze10 → Schnitt-Rotation1 (revolve, cut)
    with BuildSketch(Plane.XY.offset(10.95)):
        Polygon((41.5, 18.85), (42.9224, 18.85), (42.57823, 18.50583), (42.57823, 14.472516381), (41.5, 13.85), align=None)
    revolve(axis=Axis((41.5, 13.85, 10.95), (0, 1, 0)), mode=Mode.SUBTRACT)

    # Skizze11 → Schnitt-Rotation2 (revolve, cut)
    with BuildSketch(Plane.XY.offset(10.95)):
        Polygon((-5.5, 18.85), (-4.0776, 18.85), (-4.42177, 18.50583), (-4.42177, 14.472516381), (-5.5, 13.85), align=None)
    revolve(axis=Axis((-5.5, 13.85, 10.95), (0, 1, 0)), mode=Mode.SUBTRACT)

    # Skizze12 → Rotation4 (revolve)
    with BuildSketch(Plane.XY.offset(12.37)):
        with BuildLine():
            Line((2.305, 17), (2.53, 17))
            ThreePointArc((2.53, 17), (2.706776695, 16.926776695), (2.78, 16.75))
            Line((2.78, 16.75), (2.78, 12))
            Line((2.78, 12), (2.305, 12))
            Line((2.305, 12), (2.305, 17))
        make_face()
    rotation4 = revolve(axis=Axis((2.305, 12, 12.37), (0, 1, 0)))

    # Lineares Muster1: Rotation4 ×12
    with Locations(*[(i * LINEARES_MUSTER1_PITCH, 0, 0) for i in range(1, LINEARES_MUSTER1_COUNT)]):
        add(rotation4)

    # Skizze14 → Rotation5 (revolve)
    with BuildSketch(Plane.XY.offset(9.53)):
        with BuildLine():
            Line((0.92, 17), (1.145, 17))
            ThreePointArc((1.145, 17), (1.321776695, 16.926776695), (1.395, 16.75))
            Line((1.395, 16.75), (1.395, 12))
            Line((1.395, 12), (0.92, 12))
            Line((0.92, 12), (0.92, 17))
        make_face()
    rotation5 = revolve(axis=Axis((0.92, 12, 9.53), (0, 1, 0)))

    # Lineares Muster2: Rotation5 ×13
    with Locations(*[(i * LINEARES_MUSTER2_PITCH, 0, 0) for i in range(1, LINEARES_MUSTER2_COUNT)]):
        add(rotation5)


solid = part.part
